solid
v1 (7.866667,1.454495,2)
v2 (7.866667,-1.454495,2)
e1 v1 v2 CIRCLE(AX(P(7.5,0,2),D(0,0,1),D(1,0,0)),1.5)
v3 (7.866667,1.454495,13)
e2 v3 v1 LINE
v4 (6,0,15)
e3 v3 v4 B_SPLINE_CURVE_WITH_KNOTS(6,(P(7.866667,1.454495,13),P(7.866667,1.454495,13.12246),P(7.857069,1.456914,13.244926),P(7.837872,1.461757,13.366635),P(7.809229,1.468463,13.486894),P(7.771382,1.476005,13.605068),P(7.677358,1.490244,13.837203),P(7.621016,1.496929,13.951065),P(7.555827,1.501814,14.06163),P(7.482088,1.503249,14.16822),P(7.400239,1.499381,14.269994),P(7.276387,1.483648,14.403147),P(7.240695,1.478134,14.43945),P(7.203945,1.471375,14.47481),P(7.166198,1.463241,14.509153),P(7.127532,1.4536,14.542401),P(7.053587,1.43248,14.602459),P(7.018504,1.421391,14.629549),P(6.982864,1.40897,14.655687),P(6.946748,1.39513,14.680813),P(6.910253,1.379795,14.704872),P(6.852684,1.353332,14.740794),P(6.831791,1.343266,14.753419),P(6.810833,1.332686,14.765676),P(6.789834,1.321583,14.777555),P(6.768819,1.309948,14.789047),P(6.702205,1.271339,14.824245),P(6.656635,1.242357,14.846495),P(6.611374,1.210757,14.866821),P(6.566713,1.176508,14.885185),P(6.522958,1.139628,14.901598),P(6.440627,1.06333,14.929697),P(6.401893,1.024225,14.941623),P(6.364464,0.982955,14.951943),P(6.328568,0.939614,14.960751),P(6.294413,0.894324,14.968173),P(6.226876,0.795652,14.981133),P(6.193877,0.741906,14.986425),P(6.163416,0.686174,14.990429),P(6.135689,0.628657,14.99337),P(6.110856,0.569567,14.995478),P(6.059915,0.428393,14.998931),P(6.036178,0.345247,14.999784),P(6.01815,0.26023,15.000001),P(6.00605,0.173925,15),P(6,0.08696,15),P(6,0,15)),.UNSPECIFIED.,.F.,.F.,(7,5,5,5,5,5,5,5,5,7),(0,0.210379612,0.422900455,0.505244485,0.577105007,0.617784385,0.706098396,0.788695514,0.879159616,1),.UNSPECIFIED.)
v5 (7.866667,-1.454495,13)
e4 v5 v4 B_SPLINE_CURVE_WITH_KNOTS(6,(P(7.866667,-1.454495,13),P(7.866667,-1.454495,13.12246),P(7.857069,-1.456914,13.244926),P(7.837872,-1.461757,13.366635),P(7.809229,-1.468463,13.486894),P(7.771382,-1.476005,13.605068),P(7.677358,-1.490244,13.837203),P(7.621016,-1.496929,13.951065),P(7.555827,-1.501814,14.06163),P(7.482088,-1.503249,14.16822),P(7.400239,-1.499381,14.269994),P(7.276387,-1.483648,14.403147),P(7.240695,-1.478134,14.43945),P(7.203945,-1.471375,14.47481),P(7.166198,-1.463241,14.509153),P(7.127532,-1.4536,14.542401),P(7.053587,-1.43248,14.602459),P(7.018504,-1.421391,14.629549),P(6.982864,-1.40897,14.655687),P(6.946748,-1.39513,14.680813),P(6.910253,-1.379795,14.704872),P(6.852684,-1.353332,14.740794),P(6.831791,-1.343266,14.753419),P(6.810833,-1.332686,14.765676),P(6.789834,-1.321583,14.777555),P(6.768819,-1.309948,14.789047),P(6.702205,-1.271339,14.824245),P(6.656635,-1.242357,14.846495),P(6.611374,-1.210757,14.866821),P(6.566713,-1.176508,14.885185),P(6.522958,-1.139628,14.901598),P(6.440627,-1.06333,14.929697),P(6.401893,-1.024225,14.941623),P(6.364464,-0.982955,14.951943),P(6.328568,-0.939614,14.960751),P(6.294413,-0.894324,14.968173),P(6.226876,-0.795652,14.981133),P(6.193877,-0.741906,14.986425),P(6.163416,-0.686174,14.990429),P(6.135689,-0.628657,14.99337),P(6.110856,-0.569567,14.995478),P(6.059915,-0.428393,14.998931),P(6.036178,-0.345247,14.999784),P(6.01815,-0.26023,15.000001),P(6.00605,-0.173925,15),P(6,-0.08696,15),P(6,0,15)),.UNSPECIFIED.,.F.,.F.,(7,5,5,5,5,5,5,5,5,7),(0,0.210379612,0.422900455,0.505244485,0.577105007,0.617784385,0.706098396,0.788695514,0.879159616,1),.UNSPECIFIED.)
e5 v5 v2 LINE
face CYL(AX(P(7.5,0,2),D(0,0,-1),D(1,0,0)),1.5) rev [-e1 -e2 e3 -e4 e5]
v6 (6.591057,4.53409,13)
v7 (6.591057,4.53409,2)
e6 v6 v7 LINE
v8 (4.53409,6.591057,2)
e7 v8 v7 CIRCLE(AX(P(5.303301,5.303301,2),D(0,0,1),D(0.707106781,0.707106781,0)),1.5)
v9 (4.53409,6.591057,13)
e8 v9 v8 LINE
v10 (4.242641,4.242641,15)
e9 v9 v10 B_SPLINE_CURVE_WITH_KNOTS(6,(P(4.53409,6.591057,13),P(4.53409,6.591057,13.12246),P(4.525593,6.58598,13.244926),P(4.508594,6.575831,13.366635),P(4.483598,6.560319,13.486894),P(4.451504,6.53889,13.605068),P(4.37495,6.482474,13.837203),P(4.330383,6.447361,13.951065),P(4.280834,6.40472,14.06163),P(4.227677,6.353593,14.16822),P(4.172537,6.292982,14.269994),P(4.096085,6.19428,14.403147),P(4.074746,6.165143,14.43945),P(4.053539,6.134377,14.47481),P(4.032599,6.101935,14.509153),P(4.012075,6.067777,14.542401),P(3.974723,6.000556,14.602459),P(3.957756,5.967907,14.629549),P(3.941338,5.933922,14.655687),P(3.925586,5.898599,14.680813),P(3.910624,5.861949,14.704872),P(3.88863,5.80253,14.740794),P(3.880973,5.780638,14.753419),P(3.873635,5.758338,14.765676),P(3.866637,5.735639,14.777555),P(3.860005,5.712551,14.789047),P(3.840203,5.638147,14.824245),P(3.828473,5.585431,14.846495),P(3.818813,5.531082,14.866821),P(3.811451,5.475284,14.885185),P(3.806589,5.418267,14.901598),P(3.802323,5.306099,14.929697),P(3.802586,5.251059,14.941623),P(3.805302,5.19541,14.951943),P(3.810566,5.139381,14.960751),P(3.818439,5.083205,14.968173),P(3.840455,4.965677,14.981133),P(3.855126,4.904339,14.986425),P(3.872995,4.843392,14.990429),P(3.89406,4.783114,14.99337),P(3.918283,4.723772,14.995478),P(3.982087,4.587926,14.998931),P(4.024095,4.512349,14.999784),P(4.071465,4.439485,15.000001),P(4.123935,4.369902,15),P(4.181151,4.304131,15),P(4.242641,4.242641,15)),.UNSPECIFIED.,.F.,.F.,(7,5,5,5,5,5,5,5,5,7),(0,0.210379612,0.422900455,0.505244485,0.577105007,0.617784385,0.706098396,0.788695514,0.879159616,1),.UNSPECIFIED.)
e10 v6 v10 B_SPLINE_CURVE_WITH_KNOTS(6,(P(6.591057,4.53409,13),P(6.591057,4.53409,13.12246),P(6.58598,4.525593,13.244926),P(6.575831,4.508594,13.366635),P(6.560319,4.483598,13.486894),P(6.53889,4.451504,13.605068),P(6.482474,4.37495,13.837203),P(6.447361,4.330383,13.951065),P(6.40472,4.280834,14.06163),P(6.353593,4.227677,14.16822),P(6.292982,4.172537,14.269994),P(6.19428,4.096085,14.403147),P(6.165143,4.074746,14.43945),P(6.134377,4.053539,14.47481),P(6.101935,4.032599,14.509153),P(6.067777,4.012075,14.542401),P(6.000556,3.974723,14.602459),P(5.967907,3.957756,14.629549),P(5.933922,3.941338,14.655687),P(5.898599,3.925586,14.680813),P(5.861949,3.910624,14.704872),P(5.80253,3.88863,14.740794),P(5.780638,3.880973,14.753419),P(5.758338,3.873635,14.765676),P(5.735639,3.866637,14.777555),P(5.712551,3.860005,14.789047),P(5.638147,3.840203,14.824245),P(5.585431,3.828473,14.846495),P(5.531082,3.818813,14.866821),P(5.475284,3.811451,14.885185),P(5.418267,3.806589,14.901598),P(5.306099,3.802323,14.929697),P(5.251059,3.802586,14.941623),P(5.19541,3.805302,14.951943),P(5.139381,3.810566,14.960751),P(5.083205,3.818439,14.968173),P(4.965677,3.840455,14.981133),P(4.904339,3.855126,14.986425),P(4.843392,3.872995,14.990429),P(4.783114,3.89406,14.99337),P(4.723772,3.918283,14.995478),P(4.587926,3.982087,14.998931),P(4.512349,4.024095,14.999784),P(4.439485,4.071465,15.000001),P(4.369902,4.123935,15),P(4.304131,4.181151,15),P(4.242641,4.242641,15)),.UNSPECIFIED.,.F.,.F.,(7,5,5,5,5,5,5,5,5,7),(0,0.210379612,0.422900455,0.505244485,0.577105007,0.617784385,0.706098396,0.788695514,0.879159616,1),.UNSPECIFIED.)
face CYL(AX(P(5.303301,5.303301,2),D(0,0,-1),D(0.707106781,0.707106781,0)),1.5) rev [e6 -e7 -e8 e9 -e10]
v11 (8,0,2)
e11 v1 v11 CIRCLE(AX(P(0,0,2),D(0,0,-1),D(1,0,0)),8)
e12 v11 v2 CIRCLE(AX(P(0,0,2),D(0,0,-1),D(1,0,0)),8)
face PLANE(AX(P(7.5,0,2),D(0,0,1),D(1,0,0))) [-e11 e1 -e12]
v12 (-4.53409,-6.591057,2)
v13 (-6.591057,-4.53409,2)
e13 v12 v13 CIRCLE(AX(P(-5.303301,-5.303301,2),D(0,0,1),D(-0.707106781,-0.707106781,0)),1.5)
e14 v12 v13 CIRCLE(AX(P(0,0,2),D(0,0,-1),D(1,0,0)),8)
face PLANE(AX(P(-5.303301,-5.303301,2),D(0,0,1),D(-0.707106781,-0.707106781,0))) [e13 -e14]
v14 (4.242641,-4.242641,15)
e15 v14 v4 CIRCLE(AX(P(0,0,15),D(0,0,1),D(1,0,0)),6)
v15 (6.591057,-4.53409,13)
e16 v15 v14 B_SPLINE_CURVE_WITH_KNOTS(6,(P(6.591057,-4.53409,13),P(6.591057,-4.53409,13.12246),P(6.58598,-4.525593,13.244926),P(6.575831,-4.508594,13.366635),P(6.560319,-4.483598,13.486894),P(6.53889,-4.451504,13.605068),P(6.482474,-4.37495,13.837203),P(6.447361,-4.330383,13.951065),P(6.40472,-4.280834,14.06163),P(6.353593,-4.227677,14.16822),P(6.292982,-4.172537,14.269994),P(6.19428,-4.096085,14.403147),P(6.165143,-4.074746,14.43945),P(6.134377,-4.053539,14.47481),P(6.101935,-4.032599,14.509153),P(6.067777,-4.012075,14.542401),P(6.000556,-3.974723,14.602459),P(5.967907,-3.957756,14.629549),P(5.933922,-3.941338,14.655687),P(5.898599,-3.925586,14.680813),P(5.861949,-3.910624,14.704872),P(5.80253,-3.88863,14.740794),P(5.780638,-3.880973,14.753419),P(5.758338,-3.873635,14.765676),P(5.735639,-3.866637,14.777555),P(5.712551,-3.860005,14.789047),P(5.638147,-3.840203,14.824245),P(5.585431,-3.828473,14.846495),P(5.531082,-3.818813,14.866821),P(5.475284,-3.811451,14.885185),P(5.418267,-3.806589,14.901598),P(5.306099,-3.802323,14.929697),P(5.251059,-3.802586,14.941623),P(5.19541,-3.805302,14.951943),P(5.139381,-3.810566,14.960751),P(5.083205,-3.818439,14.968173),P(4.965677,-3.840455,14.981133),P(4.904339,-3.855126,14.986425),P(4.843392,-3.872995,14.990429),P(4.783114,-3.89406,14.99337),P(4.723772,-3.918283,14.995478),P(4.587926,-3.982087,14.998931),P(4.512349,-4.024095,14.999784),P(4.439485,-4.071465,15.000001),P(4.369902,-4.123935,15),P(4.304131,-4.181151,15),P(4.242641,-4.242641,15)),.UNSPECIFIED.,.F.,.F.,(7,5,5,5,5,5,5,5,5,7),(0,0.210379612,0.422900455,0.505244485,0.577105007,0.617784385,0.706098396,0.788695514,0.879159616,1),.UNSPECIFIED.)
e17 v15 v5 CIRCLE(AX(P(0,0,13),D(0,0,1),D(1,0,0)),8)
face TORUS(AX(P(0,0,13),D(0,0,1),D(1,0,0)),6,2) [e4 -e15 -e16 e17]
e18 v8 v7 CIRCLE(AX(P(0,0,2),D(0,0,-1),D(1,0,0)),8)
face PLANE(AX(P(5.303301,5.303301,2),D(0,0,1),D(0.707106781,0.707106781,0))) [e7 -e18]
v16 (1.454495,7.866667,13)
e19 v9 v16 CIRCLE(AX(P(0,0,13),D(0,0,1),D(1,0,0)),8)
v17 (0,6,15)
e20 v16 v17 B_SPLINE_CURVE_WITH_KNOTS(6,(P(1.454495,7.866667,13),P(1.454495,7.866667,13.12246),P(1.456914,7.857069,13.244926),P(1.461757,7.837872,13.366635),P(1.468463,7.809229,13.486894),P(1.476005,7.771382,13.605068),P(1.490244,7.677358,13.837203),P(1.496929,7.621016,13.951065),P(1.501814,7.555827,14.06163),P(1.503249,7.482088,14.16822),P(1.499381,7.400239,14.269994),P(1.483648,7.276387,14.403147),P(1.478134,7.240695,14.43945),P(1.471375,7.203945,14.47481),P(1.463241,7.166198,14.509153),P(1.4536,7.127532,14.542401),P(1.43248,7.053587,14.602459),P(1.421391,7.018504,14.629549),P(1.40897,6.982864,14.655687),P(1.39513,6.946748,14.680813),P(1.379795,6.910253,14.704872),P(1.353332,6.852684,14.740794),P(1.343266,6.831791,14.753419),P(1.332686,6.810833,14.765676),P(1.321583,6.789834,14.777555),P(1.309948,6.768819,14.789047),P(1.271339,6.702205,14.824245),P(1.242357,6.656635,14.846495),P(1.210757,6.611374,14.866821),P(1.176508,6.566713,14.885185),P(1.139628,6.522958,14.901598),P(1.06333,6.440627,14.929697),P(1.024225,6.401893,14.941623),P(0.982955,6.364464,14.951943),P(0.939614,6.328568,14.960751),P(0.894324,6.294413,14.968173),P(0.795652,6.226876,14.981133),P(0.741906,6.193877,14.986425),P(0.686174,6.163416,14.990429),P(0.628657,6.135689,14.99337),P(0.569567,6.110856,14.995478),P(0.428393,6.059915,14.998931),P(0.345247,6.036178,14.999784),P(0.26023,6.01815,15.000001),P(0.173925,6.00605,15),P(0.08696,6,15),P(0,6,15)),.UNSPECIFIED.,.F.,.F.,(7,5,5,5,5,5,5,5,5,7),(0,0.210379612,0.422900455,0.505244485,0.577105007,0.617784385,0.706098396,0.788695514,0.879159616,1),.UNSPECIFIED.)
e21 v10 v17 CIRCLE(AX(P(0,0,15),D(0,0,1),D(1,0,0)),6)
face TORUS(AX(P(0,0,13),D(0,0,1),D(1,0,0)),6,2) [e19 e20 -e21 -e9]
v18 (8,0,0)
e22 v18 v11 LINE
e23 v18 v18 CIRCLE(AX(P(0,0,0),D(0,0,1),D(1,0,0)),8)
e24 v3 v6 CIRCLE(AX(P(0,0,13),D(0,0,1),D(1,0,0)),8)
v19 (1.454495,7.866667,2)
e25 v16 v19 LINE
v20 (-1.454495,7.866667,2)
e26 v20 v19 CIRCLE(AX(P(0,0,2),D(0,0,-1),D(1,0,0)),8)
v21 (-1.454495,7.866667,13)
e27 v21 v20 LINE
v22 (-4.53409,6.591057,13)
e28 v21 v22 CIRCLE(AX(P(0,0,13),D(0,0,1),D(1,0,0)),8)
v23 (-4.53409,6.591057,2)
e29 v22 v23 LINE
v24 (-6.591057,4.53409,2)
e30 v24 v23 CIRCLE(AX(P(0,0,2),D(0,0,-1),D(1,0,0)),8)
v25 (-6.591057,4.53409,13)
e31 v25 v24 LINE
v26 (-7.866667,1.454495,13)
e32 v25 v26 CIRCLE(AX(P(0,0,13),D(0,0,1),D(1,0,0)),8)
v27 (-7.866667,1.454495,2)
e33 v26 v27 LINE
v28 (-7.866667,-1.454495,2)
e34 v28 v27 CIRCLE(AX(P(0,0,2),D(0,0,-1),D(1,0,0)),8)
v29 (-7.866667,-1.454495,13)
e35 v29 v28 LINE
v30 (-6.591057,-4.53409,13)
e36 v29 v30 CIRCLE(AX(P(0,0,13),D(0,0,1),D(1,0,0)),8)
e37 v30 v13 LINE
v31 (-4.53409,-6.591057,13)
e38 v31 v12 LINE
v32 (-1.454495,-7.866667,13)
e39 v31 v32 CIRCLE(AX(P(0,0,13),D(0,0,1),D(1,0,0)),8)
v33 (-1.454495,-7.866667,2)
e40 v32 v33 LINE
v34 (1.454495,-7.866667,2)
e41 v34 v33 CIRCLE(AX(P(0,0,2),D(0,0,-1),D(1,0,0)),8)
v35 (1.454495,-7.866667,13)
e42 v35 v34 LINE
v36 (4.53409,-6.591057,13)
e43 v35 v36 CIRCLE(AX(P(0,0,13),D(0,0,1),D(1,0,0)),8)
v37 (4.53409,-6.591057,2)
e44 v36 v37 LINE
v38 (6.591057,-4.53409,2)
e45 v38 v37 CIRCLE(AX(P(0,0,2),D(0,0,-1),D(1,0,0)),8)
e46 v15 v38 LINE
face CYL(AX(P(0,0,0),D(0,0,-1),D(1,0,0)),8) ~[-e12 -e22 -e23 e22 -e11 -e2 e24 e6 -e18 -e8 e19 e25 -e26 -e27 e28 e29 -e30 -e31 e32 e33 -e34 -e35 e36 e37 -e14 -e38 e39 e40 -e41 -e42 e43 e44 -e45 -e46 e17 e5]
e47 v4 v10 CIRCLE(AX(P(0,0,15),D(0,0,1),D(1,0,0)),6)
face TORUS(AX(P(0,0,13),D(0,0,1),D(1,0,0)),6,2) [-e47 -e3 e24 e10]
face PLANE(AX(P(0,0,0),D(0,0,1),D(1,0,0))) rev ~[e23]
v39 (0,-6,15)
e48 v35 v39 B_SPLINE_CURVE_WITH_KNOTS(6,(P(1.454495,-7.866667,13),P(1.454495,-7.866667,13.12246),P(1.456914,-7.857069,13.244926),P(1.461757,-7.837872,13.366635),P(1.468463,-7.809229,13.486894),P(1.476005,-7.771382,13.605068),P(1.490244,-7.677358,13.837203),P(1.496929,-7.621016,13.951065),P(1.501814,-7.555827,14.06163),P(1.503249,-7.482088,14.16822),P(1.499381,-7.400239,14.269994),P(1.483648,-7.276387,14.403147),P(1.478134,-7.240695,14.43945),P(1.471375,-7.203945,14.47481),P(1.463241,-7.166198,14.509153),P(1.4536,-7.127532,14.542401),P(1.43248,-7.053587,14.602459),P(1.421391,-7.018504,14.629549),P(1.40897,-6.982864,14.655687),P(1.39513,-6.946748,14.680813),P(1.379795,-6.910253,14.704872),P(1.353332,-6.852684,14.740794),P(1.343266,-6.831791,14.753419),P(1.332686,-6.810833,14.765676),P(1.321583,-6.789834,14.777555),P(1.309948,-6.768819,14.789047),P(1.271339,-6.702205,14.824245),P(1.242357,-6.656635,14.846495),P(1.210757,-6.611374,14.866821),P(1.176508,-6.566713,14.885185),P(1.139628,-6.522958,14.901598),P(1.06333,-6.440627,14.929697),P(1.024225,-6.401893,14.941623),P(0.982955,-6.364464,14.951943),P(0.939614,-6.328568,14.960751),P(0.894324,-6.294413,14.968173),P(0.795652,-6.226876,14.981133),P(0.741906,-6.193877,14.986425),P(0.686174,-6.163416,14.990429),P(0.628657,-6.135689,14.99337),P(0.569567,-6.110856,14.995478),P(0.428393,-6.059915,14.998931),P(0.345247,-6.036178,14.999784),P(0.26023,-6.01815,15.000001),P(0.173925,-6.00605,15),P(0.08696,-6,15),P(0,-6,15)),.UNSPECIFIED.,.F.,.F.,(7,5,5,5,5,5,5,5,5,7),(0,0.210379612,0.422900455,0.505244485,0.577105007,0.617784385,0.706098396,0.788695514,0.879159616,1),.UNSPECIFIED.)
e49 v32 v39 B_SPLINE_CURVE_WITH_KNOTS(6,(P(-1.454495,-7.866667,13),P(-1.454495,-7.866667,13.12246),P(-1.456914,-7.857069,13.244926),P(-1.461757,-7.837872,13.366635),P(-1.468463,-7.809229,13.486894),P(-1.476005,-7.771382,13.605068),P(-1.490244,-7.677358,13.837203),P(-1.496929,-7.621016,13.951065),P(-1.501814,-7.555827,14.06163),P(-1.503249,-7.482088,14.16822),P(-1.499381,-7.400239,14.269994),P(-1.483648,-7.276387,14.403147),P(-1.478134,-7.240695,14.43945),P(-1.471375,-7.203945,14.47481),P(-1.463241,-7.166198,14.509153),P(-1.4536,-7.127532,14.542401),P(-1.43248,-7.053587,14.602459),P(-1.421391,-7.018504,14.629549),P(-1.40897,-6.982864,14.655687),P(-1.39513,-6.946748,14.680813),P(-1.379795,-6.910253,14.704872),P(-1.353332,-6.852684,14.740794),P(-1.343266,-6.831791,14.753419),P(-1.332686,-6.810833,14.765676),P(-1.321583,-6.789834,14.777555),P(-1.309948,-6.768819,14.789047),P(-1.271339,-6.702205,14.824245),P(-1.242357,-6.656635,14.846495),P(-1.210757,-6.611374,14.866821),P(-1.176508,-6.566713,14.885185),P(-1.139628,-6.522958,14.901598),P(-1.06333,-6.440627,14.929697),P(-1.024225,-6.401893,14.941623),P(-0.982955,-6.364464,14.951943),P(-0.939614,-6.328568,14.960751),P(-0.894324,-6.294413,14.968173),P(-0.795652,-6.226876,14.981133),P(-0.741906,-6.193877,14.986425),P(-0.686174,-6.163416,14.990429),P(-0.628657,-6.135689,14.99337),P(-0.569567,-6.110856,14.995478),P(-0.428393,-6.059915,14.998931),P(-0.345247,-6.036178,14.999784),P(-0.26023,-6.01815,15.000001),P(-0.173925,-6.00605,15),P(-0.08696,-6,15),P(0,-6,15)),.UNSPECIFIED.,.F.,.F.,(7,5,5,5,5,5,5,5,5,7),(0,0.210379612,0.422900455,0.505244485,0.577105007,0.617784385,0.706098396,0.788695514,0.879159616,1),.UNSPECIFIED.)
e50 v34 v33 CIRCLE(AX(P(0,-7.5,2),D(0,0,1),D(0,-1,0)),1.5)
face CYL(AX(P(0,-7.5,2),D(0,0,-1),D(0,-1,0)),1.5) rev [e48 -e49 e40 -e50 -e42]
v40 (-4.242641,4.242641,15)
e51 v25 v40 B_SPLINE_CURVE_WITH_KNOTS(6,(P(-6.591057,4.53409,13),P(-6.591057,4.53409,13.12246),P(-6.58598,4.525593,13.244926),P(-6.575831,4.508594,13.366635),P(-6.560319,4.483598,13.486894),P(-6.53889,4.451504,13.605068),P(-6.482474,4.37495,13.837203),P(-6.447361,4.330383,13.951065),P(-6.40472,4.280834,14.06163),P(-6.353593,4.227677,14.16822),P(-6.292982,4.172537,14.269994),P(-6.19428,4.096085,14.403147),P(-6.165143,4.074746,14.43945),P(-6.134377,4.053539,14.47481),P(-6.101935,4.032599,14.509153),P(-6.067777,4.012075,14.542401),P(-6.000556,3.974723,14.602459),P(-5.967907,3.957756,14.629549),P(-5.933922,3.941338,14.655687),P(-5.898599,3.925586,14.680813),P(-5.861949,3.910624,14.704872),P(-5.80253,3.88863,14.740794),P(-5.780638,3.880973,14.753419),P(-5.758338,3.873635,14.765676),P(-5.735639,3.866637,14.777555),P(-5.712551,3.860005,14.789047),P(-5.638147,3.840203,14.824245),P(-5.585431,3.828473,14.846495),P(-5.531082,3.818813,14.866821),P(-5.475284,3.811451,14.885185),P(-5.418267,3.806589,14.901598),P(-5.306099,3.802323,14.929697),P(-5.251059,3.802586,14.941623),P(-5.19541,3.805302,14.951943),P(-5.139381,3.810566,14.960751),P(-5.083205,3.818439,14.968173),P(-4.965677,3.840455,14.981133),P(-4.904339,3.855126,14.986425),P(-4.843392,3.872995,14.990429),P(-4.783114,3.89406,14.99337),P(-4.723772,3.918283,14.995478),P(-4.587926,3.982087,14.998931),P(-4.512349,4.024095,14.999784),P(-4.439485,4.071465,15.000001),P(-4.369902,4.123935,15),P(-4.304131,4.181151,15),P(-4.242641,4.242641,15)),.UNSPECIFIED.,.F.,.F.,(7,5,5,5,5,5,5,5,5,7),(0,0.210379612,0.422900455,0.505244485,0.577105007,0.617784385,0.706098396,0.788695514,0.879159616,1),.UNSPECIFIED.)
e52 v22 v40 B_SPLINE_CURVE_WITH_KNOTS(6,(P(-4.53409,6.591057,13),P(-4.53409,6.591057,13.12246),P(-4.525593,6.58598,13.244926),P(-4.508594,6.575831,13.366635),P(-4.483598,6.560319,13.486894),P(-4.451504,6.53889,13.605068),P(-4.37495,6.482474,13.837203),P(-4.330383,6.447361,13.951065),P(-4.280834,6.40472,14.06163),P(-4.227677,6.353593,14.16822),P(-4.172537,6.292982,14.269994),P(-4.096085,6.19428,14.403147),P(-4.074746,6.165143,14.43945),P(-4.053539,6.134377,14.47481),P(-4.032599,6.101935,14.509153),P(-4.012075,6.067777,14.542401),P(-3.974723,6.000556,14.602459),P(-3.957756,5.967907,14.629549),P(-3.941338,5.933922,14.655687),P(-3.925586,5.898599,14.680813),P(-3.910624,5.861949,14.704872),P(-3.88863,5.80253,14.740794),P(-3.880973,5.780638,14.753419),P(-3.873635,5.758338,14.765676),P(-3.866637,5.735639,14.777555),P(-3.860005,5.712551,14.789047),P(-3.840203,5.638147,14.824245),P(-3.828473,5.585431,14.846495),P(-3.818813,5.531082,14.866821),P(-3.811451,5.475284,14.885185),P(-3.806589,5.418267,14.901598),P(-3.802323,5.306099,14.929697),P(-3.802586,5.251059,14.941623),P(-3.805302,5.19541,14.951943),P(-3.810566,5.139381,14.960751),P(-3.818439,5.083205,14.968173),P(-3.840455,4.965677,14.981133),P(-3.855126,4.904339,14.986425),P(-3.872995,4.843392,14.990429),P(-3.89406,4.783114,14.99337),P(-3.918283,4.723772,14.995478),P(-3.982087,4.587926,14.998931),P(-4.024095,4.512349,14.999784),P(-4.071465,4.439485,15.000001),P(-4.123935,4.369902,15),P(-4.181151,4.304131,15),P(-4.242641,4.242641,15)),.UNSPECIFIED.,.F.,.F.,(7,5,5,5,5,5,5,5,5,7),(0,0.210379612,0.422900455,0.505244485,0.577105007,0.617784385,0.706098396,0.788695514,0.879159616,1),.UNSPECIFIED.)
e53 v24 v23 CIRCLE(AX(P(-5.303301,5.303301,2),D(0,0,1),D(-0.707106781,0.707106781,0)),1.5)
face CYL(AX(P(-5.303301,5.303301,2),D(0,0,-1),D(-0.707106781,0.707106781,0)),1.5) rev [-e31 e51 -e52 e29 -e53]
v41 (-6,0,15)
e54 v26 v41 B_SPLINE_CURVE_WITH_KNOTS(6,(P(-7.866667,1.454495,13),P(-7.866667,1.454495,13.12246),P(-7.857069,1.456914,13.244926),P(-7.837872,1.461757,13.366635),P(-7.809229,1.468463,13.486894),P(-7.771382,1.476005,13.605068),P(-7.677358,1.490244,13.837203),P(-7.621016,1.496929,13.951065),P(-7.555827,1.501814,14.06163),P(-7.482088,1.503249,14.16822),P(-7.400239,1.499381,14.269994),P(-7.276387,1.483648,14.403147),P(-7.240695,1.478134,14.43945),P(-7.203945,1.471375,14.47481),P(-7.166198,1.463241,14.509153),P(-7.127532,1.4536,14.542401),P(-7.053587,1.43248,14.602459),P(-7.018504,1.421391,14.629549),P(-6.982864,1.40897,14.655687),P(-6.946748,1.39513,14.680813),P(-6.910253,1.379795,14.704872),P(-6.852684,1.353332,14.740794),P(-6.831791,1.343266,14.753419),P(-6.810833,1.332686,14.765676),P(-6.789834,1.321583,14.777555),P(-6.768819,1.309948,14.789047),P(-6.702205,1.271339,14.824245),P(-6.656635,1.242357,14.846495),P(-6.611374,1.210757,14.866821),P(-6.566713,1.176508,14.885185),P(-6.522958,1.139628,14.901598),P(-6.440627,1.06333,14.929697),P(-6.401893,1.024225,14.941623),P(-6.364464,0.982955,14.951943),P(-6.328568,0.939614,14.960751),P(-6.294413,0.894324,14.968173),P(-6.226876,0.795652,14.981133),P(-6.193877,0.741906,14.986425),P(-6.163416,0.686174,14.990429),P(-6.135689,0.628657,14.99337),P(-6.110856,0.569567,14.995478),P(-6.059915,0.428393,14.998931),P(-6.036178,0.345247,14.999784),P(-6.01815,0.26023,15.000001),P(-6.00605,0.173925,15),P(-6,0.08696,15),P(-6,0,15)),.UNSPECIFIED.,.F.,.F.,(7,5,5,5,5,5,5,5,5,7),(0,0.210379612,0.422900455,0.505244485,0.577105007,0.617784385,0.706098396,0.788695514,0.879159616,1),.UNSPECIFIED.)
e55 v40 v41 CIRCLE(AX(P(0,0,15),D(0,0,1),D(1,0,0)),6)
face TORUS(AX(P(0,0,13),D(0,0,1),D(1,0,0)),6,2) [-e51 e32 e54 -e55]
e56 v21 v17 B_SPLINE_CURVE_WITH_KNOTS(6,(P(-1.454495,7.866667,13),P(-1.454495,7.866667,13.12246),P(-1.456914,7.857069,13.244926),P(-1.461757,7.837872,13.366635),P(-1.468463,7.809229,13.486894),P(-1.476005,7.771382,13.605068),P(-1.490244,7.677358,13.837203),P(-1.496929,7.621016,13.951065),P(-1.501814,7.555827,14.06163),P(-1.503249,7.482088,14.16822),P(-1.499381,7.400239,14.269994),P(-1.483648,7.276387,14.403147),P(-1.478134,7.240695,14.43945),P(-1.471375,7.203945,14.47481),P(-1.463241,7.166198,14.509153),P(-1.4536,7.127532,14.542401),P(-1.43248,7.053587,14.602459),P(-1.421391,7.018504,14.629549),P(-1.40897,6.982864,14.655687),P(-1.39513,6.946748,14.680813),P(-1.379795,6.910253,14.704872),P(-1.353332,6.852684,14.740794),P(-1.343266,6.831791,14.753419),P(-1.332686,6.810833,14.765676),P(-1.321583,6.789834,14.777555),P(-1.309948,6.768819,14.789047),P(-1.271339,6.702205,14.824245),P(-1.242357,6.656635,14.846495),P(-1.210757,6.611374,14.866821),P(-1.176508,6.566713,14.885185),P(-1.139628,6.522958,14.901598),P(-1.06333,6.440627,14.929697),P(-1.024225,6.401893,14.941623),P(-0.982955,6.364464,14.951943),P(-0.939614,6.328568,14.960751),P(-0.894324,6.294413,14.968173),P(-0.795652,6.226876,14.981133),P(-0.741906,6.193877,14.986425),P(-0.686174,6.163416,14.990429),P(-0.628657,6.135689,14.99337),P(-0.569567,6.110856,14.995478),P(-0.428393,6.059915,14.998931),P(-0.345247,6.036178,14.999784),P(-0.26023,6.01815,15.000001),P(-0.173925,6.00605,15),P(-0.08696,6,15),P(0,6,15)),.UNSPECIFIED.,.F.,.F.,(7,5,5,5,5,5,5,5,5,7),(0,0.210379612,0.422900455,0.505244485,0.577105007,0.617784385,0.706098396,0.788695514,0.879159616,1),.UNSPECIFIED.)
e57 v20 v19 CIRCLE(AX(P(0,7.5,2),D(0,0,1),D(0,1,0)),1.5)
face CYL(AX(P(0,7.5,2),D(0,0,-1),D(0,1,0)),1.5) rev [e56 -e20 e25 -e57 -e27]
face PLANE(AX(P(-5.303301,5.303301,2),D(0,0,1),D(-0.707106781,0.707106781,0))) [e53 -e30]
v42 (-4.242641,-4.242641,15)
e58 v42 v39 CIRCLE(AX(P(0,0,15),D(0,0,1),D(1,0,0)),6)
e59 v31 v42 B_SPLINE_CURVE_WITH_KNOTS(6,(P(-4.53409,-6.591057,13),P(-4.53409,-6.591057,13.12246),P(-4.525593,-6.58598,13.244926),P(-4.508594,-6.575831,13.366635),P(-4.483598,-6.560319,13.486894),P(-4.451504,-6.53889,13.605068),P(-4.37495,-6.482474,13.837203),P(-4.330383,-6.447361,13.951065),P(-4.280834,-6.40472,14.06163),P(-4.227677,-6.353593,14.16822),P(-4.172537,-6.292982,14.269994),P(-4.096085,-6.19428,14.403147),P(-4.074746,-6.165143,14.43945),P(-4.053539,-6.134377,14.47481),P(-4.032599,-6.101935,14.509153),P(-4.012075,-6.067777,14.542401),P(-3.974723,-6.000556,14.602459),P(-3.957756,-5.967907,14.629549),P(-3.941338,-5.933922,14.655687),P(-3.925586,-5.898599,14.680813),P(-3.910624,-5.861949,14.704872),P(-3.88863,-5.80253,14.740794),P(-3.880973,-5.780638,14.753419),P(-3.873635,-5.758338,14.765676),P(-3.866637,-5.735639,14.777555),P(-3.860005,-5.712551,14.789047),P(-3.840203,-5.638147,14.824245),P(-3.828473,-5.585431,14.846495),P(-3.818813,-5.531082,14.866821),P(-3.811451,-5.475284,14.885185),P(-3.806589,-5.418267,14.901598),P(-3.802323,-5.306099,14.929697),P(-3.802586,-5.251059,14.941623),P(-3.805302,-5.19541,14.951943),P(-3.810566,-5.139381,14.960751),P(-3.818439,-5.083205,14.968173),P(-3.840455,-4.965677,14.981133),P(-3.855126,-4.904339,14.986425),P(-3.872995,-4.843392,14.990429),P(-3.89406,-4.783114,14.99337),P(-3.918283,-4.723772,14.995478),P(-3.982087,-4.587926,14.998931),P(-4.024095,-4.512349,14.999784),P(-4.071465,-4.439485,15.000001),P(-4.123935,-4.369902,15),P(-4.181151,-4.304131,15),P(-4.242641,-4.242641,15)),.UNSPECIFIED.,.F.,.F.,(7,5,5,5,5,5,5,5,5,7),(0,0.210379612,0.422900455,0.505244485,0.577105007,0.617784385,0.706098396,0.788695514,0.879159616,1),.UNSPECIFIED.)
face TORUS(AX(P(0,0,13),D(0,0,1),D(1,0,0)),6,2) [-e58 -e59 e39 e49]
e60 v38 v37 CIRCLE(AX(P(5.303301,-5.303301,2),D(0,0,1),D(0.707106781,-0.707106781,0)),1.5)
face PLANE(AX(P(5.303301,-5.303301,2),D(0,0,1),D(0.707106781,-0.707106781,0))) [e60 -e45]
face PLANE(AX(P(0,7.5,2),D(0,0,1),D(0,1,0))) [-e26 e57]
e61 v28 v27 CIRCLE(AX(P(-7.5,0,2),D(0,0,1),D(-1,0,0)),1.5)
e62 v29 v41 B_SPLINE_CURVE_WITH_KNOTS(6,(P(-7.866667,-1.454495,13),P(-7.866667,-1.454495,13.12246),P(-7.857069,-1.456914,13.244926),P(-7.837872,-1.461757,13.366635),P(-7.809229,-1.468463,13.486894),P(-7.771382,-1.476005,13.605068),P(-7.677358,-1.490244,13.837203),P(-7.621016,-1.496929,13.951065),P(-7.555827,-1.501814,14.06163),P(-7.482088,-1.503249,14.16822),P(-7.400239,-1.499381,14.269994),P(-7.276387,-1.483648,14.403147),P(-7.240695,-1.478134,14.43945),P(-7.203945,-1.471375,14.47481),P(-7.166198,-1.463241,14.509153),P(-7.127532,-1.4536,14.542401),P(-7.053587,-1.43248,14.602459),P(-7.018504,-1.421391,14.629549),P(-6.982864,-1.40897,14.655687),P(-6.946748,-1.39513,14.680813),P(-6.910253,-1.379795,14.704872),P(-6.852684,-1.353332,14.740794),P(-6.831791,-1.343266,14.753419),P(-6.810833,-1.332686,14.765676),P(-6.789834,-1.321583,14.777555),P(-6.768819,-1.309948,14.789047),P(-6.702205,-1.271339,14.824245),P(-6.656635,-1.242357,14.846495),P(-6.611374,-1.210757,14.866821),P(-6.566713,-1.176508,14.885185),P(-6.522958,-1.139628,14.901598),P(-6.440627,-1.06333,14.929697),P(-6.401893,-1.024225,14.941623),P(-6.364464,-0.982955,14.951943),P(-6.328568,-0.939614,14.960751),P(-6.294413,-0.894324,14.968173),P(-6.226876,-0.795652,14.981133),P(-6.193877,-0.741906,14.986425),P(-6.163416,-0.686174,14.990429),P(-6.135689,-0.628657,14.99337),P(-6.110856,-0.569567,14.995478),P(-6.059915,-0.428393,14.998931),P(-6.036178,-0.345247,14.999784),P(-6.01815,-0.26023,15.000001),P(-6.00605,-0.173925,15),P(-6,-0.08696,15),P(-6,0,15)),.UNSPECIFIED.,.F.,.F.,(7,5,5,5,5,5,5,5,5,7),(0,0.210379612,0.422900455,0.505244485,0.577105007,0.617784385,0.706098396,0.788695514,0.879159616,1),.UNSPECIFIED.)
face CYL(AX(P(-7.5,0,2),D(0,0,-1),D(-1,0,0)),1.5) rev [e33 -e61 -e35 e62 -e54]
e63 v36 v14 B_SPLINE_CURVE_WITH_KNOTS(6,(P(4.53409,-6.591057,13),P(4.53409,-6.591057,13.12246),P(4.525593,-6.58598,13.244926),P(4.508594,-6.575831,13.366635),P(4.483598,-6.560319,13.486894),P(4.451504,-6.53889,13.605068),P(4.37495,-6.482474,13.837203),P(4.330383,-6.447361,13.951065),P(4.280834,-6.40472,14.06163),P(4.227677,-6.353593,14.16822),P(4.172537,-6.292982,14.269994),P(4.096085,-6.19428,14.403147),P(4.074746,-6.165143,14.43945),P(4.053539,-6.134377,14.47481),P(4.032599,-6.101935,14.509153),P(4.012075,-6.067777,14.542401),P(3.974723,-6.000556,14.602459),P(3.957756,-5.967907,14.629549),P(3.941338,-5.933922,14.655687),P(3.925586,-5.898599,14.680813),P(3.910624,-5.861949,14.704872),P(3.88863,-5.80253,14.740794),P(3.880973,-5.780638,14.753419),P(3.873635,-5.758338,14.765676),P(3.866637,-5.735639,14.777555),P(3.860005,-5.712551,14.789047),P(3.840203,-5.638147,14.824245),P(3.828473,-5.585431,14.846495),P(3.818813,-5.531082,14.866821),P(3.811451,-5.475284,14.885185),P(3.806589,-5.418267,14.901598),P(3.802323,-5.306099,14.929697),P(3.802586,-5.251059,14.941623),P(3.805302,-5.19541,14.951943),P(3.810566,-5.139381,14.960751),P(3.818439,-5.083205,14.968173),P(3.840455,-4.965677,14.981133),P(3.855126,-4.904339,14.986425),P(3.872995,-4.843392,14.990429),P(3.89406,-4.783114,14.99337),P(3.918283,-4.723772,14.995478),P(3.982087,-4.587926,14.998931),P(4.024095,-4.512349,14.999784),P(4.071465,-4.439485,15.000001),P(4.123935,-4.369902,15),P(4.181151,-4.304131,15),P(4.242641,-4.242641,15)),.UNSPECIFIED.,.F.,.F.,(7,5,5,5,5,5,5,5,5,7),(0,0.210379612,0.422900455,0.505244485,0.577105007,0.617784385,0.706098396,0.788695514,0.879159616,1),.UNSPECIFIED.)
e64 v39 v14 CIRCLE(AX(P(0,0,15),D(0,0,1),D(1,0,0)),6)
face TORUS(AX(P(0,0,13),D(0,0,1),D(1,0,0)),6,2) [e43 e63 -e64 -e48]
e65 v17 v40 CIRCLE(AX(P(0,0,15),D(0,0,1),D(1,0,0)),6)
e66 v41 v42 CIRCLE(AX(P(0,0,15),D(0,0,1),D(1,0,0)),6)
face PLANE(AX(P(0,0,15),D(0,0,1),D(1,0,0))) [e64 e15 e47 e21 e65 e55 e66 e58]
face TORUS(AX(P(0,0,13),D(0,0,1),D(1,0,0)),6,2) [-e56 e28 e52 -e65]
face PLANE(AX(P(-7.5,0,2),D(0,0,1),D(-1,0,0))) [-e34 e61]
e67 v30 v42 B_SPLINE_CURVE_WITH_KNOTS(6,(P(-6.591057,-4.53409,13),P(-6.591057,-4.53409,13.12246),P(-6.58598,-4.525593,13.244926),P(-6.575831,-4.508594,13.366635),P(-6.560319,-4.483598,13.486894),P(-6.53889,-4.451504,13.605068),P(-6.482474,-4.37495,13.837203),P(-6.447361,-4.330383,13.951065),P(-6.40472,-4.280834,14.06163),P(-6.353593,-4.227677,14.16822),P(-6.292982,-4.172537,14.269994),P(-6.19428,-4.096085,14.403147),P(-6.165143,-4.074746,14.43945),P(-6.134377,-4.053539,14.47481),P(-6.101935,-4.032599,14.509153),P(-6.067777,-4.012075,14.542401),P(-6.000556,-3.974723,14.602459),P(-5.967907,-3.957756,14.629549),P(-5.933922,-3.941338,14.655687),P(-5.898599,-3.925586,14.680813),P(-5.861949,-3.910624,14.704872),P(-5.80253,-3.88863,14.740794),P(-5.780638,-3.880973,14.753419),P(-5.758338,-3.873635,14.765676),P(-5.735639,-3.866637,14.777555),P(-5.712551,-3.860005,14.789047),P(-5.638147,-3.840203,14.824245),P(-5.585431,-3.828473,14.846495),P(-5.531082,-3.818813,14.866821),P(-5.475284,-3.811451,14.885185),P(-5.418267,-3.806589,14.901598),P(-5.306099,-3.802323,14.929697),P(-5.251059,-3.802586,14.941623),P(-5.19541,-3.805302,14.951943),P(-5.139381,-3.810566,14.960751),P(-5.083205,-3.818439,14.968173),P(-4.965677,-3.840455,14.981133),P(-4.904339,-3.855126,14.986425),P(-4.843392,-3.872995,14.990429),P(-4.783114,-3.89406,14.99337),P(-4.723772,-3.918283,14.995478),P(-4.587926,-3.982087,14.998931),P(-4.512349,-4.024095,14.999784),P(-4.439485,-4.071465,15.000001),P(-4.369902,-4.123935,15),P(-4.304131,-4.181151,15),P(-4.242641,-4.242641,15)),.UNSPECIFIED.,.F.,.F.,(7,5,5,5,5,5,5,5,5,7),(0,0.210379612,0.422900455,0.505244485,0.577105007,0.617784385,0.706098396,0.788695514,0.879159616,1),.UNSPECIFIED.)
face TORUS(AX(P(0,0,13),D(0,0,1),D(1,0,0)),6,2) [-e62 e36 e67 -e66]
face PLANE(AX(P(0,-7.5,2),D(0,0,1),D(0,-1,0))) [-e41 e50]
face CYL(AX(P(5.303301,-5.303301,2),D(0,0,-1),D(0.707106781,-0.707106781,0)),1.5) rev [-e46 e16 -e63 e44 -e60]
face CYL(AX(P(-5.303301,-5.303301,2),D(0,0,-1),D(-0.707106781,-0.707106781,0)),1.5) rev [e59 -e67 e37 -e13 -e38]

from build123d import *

# Parameters (mm, degrees)
CYLINDER001_R     = 1.5
CYLINDER001_DEPTH = 30
ARRAY_COUNT       = 8
CYLINDER_R        = 8
CYLINDER_DEPTH    = 15
FILLET_R          = 2


with BuildPart() as array:
    # Cylinder001 → Cylinder001 (new body)
    with BuildSketch(Plane(origin=(7.5, 0, 0), x_dir=(1, 0, 0), z_dir=(0, 0, 1))):
        Circle(CYLINDER001_R)
    extrude(amount=CYLINDER001_DEPTH)

    # Array: Array ×8 about axis
    array_axis = Axis((0, 0, 0), (0, 0, 1))


with BuildPart() as array_1:
    add(array.part)
    for i in range(1, ARRAY_COUNT):
        add(array.part.rotate(array_axis, i * 360 / ARRAY_COUNT))


with BuildPart() as array_2:
    # Array placement: moved
    add(array_1.part.moved(Location((0, 0, 2))))


with BuildPart() as cut:
    # Cylinder → Cylinder (new body)
    with BuildSketch(Plane.XY):
        Circle(CYLINDER_R)
    extrude(amount=CYLINDER_DEPTH)

    # Fillet
    fillet_edges = [cut.edges().sort_by_distance(p)[0] for p in [
        (-8, 0, 15),
    ]]
    fillet(fillet_edges, radius=FILLET_R)

    # Cut: cut Array
    add(array_2.part, mode=Mode.SUBTRACT)


solid = cut.part
